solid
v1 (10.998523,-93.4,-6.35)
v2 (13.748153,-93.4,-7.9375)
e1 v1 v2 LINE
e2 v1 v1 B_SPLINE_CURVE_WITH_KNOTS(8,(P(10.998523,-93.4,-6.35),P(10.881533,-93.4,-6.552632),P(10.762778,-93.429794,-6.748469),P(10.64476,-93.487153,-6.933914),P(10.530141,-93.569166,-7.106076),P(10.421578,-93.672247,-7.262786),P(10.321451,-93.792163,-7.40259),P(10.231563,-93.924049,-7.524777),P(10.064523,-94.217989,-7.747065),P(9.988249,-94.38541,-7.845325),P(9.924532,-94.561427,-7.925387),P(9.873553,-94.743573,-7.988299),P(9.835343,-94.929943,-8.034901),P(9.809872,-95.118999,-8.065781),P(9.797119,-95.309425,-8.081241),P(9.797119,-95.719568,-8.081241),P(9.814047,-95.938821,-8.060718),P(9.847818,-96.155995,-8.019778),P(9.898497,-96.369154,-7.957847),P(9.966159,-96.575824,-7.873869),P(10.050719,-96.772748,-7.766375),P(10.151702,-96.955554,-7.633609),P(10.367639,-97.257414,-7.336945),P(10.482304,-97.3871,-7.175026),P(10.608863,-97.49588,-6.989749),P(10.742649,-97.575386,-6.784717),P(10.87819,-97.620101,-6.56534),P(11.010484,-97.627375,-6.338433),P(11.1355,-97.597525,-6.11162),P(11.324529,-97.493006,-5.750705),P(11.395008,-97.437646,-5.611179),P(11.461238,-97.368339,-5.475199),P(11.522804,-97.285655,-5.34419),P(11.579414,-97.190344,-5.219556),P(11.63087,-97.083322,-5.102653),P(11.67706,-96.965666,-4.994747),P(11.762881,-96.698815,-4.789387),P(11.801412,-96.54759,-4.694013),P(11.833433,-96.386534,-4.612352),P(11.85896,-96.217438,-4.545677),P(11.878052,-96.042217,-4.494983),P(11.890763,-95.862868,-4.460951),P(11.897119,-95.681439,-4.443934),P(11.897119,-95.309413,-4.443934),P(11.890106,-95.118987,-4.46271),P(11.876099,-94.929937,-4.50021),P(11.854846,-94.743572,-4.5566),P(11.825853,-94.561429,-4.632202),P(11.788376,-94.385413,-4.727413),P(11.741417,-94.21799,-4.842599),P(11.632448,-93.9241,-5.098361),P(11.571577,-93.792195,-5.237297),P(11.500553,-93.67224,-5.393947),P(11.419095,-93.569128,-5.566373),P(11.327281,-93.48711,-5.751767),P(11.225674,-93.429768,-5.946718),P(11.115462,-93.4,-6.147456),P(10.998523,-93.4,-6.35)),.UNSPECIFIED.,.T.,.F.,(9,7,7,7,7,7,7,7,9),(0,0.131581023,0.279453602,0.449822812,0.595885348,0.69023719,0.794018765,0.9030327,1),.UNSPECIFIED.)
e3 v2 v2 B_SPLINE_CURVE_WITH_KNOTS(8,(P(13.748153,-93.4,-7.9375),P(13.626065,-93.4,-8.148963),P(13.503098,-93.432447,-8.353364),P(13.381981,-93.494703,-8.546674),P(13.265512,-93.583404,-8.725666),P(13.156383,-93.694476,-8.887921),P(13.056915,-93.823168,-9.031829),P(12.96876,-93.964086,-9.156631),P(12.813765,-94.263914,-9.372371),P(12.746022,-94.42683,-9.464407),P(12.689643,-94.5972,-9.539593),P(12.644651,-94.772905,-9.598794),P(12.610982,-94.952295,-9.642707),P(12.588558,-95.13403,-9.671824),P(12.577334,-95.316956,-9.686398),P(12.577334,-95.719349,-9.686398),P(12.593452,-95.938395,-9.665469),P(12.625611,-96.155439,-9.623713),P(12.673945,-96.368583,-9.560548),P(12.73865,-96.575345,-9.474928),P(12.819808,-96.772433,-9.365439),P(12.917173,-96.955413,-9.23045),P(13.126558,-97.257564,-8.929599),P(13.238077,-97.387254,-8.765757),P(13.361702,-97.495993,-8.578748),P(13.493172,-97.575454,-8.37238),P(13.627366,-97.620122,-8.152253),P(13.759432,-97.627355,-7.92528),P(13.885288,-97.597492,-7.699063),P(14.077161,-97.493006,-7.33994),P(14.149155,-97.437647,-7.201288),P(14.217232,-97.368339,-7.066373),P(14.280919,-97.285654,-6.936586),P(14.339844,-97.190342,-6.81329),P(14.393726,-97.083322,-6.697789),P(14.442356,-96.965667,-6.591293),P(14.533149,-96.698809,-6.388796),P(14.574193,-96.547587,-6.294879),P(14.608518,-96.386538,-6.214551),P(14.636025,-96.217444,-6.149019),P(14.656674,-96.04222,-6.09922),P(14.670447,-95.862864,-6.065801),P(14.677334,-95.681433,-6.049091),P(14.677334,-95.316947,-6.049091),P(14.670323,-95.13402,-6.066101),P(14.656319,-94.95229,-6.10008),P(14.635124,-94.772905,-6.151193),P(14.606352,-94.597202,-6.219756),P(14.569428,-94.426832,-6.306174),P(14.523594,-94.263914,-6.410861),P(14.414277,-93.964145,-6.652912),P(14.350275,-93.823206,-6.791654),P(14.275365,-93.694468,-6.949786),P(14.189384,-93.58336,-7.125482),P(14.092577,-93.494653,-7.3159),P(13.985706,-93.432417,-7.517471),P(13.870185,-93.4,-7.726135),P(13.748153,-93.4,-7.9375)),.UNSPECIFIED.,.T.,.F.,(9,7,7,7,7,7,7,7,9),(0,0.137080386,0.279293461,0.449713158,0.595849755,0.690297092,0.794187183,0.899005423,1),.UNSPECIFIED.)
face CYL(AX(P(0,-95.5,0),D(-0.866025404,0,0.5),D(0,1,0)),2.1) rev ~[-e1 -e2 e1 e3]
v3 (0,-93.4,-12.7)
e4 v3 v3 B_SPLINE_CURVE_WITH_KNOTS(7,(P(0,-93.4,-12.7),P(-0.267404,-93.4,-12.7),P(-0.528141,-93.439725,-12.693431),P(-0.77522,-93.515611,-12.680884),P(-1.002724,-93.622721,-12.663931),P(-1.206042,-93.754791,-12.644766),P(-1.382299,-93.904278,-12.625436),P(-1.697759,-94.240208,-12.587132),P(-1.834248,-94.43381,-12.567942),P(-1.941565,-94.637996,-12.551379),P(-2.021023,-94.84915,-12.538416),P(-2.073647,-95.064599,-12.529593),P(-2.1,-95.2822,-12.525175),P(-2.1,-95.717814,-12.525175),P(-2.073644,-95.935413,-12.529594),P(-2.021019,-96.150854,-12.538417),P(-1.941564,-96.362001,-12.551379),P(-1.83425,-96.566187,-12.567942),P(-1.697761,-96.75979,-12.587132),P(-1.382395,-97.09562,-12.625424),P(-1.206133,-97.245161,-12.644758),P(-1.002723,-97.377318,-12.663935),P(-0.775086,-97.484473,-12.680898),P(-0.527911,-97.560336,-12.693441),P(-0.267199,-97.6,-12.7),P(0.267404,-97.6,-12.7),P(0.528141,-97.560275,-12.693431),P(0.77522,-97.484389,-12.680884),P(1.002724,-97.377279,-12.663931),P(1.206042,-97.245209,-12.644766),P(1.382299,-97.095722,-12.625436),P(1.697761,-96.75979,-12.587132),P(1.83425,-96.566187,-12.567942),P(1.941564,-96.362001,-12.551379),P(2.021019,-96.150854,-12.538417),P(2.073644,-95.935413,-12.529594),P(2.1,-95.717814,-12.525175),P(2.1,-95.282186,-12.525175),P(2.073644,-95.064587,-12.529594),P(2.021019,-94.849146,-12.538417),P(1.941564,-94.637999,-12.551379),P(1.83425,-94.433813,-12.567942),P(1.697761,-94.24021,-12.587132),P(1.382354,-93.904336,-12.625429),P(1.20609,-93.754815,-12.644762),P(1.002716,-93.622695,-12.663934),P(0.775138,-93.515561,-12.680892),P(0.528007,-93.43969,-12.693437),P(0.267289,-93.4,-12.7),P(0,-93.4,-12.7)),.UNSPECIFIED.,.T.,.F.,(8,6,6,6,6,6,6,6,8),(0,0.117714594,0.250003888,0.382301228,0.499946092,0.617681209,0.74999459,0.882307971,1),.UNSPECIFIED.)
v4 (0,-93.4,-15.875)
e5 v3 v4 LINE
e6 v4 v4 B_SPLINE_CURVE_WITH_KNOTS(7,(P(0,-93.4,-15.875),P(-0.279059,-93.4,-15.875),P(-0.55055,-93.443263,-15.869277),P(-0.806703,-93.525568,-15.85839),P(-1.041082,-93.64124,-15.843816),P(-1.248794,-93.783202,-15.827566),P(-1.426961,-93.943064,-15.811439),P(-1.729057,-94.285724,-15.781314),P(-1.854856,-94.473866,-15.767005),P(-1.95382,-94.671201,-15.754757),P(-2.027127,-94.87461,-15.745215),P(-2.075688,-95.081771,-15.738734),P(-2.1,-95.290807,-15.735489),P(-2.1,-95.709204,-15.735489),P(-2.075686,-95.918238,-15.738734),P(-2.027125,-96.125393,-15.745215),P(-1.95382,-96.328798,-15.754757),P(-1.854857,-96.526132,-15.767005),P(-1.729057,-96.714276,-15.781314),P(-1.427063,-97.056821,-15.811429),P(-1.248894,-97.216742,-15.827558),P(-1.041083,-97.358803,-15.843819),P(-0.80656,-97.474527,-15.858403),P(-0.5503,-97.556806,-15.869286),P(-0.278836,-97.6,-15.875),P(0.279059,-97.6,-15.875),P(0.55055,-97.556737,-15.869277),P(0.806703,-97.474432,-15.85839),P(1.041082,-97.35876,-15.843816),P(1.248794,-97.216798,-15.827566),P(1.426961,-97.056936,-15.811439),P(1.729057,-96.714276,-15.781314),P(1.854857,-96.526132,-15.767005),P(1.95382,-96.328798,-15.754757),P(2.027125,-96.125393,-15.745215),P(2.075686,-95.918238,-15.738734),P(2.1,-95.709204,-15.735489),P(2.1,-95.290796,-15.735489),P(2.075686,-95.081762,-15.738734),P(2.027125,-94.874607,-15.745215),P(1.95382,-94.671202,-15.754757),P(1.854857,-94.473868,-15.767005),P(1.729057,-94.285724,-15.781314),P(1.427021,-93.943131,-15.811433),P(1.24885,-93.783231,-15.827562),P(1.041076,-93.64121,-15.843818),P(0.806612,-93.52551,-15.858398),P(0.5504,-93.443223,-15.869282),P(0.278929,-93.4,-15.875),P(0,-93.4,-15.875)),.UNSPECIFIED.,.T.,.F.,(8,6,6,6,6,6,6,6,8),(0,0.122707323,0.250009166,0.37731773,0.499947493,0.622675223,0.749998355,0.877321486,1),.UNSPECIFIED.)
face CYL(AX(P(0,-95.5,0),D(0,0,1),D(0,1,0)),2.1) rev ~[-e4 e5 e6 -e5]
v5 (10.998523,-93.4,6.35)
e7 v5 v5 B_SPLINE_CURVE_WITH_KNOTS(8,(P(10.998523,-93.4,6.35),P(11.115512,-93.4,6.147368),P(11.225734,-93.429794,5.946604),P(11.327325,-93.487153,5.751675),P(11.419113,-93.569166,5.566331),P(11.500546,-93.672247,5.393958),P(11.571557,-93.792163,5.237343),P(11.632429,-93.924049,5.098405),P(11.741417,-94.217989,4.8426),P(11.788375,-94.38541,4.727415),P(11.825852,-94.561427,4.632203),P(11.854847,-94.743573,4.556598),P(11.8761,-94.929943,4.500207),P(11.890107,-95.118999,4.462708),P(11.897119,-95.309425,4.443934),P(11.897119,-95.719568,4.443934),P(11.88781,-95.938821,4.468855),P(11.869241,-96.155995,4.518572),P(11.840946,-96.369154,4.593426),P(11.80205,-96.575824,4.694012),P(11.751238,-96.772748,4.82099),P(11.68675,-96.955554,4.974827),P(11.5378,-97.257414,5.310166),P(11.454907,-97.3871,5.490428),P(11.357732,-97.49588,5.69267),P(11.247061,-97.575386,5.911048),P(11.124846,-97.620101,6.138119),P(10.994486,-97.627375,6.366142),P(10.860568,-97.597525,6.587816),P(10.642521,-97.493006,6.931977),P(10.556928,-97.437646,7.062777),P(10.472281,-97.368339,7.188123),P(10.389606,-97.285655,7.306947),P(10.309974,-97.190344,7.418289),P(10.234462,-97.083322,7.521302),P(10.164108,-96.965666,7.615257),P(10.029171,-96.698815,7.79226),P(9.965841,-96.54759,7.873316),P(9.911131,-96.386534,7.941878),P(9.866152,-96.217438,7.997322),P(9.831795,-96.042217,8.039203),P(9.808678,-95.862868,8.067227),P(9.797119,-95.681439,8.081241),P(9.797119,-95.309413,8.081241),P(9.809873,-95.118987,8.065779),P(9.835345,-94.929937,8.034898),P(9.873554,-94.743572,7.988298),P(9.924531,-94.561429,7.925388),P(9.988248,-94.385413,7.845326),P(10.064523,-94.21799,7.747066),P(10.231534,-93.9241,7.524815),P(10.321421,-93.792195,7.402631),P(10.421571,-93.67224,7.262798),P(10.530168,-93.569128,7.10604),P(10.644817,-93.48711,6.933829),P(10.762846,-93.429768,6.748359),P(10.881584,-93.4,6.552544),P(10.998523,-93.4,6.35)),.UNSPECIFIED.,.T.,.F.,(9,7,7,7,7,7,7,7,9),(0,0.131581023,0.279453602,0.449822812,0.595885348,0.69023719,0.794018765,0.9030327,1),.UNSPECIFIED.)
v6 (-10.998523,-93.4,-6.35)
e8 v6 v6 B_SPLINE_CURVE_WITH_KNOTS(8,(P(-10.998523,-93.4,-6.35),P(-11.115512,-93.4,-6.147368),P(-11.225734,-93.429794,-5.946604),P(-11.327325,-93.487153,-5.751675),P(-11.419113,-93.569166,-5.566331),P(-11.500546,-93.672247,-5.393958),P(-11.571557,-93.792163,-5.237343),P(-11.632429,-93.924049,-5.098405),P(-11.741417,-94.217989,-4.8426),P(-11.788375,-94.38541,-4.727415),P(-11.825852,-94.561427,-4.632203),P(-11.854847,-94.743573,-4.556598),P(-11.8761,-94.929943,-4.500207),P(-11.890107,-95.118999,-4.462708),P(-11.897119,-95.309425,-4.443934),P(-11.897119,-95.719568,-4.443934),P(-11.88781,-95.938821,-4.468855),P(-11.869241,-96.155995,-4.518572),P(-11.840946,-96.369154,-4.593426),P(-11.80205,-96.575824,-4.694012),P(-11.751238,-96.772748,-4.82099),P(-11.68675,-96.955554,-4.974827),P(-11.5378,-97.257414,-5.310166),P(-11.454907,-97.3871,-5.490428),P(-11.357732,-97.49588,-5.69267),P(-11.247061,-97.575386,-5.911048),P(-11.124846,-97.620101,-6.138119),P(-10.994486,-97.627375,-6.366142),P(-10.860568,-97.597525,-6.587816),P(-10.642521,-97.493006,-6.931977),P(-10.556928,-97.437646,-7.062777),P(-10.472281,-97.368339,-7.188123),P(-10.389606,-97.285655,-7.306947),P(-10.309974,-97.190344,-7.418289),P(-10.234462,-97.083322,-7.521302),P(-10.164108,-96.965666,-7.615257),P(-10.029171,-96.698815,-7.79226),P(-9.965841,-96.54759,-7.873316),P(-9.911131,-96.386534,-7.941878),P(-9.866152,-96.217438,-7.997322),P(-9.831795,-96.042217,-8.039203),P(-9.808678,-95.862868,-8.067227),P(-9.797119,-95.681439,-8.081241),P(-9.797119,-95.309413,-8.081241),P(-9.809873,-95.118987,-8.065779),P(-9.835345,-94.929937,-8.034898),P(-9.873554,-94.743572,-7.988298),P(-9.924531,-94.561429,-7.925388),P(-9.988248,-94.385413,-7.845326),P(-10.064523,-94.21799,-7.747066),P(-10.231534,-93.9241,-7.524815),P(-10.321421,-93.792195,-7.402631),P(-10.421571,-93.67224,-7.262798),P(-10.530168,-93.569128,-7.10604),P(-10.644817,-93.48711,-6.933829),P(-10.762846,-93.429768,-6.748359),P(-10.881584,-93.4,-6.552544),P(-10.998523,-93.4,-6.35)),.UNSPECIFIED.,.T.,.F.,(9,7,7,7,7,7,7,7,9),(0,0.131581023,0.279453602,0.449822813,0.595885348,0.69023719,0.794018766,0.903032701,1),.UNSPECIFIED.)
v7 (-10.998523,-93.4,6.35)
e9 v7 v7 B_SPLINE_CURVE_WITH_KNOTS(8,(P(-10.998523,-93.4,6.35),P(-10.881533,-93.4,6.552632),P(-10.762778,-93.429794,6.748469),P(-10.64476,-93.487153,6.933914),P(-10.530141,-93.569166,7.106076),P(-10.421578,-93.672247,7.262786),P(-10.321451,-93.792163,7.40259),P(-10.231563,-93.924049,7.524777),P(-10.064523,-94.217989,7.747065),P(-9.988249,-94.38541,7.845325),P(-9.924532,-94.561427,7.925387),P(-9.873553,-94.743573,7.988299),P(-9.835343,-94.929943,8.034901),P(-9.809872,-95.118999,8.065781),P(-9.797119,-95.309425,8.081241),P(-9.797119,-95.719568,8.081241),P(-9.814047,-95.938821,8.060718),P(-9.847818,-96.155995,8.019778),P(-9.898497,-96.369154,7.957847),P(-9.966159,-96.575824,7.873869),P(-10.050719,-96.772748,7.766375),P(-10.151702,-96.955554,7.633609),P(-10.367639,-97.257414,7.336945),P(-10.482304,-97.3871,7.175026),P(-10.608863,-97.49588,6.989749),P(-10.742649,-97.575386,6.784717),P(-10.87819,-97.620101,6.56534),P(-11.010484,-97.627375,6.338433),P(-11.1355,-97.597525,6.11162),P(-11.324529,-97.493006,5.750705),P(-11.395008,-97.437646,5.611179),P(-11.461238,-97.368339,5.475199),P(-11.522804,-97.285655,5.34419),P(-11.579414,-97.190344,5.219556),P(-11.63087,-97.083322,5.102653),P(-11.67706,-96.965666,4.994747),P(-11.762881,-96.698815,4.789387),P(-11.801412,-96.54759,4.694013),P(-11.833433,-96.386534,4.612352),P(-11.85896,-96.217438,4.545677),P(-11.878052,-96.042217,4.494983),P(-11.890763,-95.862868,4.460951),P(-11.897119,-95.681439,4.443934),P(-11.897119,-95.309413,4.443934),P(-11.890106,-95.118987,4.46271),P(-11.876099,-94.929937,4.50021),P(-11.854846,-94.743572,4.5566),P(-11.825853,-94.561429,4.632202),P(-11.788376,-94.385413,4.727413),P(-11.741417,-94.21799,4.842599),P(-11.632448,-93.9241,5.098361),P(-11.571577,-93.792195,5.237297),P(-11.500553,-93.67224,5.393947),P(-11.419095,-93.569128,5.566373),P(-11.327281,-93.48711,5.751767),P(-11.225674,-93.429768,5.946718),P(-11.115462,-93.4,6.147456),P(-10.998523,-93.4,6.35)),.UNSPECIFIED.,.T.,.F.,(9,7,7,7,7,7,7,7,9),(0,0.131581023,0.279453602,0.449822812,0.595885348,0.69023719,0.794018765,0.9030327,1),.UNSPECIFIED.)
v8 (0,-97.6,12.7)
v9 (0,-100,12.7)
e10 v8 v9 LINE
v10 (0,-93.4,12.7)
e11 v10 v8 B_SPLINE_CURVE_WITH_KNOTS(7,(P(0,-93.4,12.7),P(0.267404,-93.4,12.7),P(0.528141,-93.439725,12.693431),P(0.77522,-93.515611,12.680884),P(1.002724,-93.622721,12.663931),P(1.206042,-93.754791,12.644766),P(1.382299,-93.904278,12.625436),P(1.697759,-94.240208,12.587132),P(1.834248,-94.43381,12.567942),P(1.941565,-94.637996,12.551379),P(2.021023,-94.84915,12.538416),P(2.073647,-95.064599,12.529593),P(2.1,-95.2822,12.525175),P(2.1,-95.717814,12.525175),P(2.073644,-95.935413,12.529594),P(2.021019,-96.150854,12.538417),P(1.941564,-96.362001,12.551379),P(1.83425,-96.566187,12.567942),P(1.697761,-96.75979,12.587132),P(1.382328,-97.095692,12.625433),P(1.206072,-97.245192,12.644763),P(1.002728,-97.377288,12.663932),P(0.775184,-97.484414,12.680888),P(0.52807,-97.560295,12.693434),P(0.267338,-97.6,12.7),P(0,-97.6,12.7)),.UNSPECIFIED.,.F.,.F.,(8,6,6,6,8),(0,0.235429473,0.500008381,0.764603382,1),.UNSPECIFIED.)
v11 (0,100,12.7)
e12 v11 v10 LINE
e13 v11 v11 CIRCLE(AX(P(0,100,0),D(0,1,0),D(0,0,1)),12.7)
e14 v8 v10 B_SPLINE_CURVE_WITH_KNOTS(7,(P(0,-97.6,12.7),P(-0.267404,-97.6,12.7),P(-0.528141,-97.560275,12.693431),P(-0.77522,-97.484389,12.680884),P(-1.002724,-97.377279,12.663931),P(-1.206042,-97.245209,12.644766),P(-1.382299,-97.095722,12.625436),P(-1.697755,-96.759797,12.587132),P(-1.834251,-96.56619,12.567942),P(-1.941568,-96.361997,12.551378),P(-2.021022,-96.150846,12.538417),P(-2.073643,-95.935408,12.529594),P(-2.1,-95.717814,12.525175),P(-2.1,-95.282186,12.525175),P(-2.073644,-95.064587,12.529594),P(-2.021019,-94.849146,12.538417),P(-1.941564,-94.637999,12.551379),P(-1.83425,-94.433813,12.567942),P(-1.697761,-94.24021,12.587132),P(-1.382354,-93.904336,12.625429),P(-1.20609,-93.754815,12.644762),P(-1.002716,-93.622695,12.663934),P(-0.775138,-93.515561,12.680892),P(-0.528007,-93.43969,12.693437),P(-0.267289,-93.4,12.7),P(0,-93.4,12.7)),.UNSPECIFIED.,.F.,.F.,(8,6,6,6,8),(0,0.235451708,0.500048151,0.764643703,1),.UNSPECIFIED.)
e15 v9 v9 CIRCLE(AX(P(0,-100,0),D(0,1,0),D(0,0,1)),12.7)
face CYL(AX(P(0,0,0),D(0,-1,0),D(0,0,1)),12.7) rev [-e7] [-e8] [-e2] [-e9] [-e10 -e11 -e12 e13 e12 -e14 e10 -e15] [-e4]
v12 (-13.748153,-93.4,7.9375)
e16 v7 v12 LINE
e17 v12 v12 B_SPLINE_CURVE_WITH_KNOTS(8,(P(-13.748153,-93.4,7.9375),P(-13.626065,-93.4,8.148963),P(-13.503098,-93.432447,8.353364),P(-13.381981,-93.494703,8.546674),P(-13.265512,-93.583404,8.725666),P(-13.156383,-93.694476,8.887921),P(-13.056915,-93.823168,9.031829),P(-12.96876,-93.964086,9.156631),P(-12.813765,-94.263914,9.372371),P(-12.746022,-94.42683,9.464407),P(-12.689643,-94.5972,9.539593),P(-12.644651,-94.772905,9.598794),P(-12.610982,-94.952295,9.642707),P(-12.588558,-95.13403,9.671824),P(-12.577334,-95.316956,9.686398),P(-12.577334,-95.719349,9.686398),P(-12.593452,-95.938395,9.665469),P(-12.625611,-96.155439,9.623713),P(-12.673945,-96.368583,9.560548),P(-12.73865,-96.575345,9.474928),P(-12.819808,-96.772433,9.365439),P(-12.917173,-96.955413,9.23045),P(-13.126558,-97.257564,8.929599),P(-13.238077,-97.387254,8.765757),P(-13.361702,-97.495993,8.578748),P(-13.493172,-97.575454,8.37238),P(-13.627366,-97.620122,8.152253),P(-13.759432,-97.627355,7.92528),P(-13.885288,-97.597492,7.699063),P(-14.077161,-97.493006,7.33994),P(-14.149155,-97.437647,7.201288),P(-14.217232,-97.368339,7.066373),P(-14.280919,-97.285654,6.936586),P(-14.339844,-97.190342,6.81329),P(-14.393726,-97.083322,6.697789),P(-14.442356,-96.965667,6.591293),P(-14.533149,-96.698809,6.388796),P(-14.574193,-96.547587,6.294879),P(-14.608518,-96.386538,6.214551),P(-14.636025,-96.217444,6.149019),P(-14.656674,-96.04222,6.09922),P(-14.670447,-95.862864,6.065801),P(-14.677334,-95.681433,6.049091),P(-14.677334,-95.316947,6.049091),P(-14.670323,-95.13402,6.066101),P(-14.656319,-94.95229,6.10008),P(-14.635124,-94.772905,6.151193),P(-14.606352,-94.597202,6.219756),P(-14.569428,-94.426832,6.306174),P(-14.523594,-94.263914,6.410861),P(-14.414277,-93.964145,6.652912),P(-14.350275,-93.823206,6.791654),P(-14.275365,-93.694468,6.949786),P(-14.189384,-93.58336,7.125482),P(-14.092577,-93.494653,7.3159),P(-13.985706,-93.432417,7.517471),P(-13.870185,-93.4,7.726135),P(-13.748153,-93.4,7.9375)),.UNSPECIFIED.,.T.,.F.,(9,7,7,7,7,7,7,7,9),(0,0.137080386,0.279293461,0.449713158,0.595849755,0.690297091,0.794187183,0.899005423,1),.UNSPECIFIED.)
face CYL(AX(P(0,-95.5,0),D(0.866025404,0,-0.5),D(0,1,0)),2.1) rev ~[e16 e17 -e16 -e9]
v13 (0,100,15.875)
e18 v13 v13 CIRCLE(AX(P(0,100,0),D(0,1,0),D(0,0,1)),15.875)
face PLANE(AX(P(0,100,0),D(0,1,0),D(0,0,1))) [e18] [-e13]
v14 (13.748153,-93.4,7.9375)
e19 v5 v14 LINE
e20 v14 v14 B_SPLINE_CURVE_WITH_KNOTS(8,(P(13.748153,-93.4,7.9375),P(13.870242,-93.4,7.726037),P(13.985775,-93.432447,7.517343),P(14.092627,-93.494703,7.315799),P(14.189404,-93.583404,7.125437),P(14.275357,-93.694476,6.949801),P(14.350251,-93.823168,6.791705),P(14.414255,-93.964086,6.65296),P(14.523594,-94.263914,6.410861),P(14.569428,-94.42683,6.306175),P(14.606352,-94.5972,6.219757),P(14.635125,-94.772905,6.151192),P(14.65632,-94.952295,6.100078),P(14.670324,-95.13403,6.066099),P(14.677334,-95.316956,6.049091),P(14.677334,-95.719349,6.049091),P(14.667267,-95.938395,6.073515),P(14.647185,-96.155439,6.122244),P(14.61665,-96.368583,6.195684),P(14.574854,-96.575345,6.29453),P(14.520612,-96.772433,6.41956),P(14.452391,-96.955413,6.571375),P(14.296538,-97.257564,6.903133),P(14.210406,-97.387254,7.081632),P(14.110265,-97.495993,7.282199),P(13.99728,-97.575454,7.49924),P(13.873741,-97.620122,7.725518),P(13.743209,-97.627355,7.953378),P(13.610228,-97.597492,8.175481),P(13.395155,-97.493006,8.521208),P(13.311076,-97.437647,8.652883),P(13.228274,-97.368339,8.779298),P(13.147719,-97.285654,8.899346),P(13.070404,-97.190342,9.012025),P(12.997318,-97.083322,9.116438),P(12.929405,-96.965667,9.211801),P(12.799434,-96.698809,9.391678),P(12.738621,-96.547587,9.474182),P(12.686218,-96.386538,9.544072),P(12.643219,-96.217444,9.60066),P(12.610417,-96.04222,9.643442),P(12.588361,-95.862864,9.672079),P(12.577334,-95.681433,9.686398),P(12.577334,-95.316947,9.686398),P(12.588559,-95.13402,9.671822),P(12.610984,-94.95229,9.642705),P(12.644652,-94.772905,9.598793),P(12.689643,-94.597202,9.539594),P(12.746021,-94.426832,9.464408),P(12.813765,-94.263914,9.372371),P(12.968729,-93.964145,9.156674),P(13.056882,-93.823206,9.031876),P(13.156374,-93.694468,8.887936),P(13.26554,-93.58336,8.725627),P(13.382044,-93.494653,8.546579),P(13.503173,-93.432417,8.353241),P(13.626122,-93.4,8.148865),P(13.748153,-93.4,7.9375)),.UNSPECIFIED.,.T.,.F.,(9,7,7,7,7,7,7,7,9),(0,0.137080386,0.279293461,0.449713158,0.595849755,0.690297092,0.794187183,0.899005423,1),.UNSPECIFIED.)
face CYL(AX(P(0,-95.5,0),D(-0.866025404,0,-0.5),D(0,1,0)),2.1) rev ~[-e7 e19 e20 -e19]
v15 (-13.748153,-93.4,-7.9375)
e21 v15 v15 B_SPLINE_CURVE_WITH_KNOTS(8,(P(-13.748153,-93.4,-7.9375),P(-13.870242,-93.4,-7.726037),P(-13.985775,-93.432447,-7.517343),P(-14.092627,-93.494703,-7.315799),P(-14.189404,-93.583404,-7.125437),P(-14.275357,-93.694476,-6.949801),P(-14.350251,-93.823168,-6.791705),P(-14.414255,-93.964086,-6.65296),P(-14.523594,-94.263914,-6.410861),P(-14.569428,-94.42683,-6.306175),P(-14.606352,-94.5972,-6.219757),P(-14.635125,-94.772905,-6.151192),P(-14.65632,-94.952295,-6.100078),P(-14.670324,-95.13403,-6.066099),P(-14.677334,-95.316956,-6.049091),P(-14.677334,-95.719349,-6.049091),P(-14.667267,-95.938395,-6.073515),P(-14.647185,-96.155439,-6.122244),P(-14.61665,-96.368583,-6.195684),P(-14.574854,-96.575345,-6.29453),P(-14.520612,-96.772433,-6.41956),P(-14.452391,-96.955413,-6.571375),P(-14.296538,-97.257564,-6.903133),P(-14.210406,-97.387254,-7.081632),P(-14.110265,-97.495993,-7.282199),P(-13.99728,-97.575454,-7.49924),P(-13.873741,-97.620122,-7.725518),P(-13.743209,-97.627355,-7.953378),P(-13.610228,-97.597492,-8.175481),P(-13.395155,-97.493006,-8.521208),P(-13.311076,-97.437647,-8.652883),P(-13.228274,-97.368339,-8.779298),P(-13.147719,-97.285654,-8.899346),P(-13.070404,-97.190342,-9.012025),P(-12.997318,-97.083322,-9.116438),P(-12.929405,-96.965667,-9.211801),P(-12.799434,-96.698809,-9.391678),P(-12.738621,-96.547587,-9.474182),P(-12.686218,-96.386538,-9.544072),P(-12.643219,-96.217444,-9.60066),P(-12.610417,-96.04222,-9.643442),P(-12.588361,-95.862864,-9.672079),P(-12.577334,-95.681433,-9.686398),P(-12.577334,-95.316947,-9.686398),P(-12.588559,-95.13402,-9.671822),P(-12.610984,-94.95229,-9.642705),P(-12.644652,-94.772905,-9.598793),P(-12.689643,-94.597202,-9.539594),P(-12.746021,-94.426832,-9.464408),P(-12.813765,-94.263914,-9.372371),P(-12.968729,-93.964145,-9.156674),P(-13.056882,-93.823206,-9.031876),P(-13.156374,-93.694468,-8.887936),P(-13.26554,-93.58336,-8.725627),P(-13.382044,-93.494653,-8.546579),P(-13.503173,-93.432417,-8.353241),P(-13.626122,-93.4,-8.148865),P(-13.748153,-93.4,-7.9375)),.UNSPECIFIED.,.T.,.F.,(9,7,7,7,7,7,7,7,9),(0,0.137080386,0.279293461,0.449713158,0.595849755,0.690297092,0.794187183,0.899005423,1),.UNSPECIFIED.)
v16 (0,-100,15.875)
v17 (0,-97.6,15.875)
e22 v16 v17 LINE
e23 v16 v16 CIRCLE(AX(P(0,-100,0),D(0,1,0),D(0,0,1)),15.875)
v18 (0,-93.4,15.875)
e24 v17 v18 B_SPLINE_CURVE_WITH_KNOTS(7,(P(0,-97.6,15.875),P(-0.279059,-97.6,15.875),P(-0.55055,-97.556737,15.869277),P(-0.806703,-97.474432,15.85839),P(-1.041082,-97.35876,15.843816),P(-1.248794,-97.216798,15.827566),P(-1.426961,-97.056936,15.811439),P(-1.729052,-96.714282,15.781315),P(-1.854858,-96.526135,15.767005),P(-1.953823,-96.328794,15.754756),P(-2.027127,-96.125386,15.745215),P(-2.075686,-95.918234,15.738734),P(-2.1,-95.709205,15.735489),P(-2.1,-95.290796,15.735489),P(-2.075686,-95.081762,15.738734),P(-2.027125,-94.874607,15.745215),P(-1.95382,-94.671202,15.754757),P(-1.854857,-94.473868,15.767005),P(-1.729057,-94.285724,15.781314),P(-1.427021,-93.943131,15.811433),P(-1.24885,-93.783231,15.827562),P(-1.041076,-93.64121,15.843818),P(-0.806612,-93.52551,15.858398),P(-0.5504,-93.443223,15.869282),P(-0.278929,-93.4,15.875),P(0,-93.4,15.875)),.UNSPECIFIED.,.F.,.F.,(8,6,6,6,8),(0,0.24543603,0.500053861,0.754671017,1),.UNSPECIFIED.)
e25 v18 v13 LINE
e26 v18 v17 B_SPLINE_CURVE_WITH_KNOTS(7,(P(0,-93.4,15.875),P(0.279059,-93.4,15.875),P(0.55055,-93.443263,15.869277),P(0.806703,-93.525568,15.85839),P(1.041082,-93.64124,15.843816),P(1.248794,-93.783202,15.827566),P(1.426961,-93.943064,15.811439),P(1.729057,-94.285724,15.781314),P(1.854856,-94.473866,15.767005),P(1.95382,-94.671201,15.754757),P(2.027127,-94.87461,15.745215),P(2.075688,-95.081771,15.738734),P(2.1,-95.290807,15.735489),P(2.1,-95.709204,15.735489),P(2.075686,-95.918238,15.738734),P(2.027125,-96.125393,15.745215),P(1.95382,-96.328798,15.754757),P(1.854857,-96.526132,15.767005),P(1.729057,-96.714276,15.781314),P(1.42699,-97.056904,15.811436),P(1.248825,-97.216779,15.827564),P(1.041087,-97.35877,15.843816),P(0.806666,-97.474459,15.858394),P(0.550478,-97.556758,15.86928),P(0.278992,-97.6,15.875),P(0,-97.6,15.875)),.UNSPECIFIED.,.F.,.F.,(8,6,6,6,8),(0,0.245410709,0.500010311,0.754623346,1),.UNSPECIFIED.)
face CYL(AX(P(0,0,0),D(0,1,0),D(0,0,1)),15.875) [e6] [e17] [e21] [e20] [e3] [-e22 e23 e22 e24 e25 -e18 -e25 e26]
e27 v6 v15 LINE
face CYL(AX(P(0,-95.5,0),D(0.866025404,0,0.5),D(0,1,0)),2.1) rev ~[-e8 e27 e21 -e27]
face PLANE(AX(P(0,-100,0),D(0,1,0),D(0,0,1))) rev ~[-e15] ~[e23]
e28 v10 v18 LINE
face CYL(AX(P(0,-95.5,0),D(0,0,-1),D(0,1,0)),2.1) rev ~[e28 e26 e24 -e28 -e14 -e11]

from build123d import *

# Parameters (mm, degrees)
SKETCH1_R           = 15.875
SKETCH1_R_2         = 12.7
BOSS_EXTRUDE1_DEPTH = 100
SKETCH2_R           = 2.1
CUT_EXTRUDE1_DEPTH  = 103.489176258
CIRPATTERN1_COUNT   = 6


with BuildPart() as part:
    # Sketch1 → Boss-Extrude1 (new, symmetric)
    with BuildSketch(Plane(origin=(0, 0, 0), x_dir=(1, 0, 0), z_dir=(0, 1, 0))):
        with Locations(Location((0, 0, 0), (0, 0, 270))):
            Circle(SKETCH1_R)
        with Locations(Location((0, 0, 0), (0, 0, 270))):
            Circle(SKETCH1_R_2, mode=Mode.SUBTRACT)
    extrude(amount=BOSS_EXTRUDE1_DEPTH, both=True)

    # Sketch2 → Cut-Extrude1 (cut, through all)
    with BuildSketch(Plane.XY):
        with Locations(Location((0, -95.5, 0), (0, 0, 90))):
            Circle(SKETCH2_R)
    cut_extrude1 = extrude(amount=-CUT_EXTRUDE1_DEPTH, mode=Mode.SUBTRACT)

    # CirPattern1: Cut-Extrude1 ×6 about axis
    cirpattern1_axis = Axis((0, 100, 0), (0, -1, 0))
    for i in range(1, CIRPATTERN1_COUNT):
        add(cut_extrude1.rotate(cirpattern1_axis, i * 360 / CIRPATTERN1_COUNT), mode=Mode.SUBTRACT)


solid = part.part
